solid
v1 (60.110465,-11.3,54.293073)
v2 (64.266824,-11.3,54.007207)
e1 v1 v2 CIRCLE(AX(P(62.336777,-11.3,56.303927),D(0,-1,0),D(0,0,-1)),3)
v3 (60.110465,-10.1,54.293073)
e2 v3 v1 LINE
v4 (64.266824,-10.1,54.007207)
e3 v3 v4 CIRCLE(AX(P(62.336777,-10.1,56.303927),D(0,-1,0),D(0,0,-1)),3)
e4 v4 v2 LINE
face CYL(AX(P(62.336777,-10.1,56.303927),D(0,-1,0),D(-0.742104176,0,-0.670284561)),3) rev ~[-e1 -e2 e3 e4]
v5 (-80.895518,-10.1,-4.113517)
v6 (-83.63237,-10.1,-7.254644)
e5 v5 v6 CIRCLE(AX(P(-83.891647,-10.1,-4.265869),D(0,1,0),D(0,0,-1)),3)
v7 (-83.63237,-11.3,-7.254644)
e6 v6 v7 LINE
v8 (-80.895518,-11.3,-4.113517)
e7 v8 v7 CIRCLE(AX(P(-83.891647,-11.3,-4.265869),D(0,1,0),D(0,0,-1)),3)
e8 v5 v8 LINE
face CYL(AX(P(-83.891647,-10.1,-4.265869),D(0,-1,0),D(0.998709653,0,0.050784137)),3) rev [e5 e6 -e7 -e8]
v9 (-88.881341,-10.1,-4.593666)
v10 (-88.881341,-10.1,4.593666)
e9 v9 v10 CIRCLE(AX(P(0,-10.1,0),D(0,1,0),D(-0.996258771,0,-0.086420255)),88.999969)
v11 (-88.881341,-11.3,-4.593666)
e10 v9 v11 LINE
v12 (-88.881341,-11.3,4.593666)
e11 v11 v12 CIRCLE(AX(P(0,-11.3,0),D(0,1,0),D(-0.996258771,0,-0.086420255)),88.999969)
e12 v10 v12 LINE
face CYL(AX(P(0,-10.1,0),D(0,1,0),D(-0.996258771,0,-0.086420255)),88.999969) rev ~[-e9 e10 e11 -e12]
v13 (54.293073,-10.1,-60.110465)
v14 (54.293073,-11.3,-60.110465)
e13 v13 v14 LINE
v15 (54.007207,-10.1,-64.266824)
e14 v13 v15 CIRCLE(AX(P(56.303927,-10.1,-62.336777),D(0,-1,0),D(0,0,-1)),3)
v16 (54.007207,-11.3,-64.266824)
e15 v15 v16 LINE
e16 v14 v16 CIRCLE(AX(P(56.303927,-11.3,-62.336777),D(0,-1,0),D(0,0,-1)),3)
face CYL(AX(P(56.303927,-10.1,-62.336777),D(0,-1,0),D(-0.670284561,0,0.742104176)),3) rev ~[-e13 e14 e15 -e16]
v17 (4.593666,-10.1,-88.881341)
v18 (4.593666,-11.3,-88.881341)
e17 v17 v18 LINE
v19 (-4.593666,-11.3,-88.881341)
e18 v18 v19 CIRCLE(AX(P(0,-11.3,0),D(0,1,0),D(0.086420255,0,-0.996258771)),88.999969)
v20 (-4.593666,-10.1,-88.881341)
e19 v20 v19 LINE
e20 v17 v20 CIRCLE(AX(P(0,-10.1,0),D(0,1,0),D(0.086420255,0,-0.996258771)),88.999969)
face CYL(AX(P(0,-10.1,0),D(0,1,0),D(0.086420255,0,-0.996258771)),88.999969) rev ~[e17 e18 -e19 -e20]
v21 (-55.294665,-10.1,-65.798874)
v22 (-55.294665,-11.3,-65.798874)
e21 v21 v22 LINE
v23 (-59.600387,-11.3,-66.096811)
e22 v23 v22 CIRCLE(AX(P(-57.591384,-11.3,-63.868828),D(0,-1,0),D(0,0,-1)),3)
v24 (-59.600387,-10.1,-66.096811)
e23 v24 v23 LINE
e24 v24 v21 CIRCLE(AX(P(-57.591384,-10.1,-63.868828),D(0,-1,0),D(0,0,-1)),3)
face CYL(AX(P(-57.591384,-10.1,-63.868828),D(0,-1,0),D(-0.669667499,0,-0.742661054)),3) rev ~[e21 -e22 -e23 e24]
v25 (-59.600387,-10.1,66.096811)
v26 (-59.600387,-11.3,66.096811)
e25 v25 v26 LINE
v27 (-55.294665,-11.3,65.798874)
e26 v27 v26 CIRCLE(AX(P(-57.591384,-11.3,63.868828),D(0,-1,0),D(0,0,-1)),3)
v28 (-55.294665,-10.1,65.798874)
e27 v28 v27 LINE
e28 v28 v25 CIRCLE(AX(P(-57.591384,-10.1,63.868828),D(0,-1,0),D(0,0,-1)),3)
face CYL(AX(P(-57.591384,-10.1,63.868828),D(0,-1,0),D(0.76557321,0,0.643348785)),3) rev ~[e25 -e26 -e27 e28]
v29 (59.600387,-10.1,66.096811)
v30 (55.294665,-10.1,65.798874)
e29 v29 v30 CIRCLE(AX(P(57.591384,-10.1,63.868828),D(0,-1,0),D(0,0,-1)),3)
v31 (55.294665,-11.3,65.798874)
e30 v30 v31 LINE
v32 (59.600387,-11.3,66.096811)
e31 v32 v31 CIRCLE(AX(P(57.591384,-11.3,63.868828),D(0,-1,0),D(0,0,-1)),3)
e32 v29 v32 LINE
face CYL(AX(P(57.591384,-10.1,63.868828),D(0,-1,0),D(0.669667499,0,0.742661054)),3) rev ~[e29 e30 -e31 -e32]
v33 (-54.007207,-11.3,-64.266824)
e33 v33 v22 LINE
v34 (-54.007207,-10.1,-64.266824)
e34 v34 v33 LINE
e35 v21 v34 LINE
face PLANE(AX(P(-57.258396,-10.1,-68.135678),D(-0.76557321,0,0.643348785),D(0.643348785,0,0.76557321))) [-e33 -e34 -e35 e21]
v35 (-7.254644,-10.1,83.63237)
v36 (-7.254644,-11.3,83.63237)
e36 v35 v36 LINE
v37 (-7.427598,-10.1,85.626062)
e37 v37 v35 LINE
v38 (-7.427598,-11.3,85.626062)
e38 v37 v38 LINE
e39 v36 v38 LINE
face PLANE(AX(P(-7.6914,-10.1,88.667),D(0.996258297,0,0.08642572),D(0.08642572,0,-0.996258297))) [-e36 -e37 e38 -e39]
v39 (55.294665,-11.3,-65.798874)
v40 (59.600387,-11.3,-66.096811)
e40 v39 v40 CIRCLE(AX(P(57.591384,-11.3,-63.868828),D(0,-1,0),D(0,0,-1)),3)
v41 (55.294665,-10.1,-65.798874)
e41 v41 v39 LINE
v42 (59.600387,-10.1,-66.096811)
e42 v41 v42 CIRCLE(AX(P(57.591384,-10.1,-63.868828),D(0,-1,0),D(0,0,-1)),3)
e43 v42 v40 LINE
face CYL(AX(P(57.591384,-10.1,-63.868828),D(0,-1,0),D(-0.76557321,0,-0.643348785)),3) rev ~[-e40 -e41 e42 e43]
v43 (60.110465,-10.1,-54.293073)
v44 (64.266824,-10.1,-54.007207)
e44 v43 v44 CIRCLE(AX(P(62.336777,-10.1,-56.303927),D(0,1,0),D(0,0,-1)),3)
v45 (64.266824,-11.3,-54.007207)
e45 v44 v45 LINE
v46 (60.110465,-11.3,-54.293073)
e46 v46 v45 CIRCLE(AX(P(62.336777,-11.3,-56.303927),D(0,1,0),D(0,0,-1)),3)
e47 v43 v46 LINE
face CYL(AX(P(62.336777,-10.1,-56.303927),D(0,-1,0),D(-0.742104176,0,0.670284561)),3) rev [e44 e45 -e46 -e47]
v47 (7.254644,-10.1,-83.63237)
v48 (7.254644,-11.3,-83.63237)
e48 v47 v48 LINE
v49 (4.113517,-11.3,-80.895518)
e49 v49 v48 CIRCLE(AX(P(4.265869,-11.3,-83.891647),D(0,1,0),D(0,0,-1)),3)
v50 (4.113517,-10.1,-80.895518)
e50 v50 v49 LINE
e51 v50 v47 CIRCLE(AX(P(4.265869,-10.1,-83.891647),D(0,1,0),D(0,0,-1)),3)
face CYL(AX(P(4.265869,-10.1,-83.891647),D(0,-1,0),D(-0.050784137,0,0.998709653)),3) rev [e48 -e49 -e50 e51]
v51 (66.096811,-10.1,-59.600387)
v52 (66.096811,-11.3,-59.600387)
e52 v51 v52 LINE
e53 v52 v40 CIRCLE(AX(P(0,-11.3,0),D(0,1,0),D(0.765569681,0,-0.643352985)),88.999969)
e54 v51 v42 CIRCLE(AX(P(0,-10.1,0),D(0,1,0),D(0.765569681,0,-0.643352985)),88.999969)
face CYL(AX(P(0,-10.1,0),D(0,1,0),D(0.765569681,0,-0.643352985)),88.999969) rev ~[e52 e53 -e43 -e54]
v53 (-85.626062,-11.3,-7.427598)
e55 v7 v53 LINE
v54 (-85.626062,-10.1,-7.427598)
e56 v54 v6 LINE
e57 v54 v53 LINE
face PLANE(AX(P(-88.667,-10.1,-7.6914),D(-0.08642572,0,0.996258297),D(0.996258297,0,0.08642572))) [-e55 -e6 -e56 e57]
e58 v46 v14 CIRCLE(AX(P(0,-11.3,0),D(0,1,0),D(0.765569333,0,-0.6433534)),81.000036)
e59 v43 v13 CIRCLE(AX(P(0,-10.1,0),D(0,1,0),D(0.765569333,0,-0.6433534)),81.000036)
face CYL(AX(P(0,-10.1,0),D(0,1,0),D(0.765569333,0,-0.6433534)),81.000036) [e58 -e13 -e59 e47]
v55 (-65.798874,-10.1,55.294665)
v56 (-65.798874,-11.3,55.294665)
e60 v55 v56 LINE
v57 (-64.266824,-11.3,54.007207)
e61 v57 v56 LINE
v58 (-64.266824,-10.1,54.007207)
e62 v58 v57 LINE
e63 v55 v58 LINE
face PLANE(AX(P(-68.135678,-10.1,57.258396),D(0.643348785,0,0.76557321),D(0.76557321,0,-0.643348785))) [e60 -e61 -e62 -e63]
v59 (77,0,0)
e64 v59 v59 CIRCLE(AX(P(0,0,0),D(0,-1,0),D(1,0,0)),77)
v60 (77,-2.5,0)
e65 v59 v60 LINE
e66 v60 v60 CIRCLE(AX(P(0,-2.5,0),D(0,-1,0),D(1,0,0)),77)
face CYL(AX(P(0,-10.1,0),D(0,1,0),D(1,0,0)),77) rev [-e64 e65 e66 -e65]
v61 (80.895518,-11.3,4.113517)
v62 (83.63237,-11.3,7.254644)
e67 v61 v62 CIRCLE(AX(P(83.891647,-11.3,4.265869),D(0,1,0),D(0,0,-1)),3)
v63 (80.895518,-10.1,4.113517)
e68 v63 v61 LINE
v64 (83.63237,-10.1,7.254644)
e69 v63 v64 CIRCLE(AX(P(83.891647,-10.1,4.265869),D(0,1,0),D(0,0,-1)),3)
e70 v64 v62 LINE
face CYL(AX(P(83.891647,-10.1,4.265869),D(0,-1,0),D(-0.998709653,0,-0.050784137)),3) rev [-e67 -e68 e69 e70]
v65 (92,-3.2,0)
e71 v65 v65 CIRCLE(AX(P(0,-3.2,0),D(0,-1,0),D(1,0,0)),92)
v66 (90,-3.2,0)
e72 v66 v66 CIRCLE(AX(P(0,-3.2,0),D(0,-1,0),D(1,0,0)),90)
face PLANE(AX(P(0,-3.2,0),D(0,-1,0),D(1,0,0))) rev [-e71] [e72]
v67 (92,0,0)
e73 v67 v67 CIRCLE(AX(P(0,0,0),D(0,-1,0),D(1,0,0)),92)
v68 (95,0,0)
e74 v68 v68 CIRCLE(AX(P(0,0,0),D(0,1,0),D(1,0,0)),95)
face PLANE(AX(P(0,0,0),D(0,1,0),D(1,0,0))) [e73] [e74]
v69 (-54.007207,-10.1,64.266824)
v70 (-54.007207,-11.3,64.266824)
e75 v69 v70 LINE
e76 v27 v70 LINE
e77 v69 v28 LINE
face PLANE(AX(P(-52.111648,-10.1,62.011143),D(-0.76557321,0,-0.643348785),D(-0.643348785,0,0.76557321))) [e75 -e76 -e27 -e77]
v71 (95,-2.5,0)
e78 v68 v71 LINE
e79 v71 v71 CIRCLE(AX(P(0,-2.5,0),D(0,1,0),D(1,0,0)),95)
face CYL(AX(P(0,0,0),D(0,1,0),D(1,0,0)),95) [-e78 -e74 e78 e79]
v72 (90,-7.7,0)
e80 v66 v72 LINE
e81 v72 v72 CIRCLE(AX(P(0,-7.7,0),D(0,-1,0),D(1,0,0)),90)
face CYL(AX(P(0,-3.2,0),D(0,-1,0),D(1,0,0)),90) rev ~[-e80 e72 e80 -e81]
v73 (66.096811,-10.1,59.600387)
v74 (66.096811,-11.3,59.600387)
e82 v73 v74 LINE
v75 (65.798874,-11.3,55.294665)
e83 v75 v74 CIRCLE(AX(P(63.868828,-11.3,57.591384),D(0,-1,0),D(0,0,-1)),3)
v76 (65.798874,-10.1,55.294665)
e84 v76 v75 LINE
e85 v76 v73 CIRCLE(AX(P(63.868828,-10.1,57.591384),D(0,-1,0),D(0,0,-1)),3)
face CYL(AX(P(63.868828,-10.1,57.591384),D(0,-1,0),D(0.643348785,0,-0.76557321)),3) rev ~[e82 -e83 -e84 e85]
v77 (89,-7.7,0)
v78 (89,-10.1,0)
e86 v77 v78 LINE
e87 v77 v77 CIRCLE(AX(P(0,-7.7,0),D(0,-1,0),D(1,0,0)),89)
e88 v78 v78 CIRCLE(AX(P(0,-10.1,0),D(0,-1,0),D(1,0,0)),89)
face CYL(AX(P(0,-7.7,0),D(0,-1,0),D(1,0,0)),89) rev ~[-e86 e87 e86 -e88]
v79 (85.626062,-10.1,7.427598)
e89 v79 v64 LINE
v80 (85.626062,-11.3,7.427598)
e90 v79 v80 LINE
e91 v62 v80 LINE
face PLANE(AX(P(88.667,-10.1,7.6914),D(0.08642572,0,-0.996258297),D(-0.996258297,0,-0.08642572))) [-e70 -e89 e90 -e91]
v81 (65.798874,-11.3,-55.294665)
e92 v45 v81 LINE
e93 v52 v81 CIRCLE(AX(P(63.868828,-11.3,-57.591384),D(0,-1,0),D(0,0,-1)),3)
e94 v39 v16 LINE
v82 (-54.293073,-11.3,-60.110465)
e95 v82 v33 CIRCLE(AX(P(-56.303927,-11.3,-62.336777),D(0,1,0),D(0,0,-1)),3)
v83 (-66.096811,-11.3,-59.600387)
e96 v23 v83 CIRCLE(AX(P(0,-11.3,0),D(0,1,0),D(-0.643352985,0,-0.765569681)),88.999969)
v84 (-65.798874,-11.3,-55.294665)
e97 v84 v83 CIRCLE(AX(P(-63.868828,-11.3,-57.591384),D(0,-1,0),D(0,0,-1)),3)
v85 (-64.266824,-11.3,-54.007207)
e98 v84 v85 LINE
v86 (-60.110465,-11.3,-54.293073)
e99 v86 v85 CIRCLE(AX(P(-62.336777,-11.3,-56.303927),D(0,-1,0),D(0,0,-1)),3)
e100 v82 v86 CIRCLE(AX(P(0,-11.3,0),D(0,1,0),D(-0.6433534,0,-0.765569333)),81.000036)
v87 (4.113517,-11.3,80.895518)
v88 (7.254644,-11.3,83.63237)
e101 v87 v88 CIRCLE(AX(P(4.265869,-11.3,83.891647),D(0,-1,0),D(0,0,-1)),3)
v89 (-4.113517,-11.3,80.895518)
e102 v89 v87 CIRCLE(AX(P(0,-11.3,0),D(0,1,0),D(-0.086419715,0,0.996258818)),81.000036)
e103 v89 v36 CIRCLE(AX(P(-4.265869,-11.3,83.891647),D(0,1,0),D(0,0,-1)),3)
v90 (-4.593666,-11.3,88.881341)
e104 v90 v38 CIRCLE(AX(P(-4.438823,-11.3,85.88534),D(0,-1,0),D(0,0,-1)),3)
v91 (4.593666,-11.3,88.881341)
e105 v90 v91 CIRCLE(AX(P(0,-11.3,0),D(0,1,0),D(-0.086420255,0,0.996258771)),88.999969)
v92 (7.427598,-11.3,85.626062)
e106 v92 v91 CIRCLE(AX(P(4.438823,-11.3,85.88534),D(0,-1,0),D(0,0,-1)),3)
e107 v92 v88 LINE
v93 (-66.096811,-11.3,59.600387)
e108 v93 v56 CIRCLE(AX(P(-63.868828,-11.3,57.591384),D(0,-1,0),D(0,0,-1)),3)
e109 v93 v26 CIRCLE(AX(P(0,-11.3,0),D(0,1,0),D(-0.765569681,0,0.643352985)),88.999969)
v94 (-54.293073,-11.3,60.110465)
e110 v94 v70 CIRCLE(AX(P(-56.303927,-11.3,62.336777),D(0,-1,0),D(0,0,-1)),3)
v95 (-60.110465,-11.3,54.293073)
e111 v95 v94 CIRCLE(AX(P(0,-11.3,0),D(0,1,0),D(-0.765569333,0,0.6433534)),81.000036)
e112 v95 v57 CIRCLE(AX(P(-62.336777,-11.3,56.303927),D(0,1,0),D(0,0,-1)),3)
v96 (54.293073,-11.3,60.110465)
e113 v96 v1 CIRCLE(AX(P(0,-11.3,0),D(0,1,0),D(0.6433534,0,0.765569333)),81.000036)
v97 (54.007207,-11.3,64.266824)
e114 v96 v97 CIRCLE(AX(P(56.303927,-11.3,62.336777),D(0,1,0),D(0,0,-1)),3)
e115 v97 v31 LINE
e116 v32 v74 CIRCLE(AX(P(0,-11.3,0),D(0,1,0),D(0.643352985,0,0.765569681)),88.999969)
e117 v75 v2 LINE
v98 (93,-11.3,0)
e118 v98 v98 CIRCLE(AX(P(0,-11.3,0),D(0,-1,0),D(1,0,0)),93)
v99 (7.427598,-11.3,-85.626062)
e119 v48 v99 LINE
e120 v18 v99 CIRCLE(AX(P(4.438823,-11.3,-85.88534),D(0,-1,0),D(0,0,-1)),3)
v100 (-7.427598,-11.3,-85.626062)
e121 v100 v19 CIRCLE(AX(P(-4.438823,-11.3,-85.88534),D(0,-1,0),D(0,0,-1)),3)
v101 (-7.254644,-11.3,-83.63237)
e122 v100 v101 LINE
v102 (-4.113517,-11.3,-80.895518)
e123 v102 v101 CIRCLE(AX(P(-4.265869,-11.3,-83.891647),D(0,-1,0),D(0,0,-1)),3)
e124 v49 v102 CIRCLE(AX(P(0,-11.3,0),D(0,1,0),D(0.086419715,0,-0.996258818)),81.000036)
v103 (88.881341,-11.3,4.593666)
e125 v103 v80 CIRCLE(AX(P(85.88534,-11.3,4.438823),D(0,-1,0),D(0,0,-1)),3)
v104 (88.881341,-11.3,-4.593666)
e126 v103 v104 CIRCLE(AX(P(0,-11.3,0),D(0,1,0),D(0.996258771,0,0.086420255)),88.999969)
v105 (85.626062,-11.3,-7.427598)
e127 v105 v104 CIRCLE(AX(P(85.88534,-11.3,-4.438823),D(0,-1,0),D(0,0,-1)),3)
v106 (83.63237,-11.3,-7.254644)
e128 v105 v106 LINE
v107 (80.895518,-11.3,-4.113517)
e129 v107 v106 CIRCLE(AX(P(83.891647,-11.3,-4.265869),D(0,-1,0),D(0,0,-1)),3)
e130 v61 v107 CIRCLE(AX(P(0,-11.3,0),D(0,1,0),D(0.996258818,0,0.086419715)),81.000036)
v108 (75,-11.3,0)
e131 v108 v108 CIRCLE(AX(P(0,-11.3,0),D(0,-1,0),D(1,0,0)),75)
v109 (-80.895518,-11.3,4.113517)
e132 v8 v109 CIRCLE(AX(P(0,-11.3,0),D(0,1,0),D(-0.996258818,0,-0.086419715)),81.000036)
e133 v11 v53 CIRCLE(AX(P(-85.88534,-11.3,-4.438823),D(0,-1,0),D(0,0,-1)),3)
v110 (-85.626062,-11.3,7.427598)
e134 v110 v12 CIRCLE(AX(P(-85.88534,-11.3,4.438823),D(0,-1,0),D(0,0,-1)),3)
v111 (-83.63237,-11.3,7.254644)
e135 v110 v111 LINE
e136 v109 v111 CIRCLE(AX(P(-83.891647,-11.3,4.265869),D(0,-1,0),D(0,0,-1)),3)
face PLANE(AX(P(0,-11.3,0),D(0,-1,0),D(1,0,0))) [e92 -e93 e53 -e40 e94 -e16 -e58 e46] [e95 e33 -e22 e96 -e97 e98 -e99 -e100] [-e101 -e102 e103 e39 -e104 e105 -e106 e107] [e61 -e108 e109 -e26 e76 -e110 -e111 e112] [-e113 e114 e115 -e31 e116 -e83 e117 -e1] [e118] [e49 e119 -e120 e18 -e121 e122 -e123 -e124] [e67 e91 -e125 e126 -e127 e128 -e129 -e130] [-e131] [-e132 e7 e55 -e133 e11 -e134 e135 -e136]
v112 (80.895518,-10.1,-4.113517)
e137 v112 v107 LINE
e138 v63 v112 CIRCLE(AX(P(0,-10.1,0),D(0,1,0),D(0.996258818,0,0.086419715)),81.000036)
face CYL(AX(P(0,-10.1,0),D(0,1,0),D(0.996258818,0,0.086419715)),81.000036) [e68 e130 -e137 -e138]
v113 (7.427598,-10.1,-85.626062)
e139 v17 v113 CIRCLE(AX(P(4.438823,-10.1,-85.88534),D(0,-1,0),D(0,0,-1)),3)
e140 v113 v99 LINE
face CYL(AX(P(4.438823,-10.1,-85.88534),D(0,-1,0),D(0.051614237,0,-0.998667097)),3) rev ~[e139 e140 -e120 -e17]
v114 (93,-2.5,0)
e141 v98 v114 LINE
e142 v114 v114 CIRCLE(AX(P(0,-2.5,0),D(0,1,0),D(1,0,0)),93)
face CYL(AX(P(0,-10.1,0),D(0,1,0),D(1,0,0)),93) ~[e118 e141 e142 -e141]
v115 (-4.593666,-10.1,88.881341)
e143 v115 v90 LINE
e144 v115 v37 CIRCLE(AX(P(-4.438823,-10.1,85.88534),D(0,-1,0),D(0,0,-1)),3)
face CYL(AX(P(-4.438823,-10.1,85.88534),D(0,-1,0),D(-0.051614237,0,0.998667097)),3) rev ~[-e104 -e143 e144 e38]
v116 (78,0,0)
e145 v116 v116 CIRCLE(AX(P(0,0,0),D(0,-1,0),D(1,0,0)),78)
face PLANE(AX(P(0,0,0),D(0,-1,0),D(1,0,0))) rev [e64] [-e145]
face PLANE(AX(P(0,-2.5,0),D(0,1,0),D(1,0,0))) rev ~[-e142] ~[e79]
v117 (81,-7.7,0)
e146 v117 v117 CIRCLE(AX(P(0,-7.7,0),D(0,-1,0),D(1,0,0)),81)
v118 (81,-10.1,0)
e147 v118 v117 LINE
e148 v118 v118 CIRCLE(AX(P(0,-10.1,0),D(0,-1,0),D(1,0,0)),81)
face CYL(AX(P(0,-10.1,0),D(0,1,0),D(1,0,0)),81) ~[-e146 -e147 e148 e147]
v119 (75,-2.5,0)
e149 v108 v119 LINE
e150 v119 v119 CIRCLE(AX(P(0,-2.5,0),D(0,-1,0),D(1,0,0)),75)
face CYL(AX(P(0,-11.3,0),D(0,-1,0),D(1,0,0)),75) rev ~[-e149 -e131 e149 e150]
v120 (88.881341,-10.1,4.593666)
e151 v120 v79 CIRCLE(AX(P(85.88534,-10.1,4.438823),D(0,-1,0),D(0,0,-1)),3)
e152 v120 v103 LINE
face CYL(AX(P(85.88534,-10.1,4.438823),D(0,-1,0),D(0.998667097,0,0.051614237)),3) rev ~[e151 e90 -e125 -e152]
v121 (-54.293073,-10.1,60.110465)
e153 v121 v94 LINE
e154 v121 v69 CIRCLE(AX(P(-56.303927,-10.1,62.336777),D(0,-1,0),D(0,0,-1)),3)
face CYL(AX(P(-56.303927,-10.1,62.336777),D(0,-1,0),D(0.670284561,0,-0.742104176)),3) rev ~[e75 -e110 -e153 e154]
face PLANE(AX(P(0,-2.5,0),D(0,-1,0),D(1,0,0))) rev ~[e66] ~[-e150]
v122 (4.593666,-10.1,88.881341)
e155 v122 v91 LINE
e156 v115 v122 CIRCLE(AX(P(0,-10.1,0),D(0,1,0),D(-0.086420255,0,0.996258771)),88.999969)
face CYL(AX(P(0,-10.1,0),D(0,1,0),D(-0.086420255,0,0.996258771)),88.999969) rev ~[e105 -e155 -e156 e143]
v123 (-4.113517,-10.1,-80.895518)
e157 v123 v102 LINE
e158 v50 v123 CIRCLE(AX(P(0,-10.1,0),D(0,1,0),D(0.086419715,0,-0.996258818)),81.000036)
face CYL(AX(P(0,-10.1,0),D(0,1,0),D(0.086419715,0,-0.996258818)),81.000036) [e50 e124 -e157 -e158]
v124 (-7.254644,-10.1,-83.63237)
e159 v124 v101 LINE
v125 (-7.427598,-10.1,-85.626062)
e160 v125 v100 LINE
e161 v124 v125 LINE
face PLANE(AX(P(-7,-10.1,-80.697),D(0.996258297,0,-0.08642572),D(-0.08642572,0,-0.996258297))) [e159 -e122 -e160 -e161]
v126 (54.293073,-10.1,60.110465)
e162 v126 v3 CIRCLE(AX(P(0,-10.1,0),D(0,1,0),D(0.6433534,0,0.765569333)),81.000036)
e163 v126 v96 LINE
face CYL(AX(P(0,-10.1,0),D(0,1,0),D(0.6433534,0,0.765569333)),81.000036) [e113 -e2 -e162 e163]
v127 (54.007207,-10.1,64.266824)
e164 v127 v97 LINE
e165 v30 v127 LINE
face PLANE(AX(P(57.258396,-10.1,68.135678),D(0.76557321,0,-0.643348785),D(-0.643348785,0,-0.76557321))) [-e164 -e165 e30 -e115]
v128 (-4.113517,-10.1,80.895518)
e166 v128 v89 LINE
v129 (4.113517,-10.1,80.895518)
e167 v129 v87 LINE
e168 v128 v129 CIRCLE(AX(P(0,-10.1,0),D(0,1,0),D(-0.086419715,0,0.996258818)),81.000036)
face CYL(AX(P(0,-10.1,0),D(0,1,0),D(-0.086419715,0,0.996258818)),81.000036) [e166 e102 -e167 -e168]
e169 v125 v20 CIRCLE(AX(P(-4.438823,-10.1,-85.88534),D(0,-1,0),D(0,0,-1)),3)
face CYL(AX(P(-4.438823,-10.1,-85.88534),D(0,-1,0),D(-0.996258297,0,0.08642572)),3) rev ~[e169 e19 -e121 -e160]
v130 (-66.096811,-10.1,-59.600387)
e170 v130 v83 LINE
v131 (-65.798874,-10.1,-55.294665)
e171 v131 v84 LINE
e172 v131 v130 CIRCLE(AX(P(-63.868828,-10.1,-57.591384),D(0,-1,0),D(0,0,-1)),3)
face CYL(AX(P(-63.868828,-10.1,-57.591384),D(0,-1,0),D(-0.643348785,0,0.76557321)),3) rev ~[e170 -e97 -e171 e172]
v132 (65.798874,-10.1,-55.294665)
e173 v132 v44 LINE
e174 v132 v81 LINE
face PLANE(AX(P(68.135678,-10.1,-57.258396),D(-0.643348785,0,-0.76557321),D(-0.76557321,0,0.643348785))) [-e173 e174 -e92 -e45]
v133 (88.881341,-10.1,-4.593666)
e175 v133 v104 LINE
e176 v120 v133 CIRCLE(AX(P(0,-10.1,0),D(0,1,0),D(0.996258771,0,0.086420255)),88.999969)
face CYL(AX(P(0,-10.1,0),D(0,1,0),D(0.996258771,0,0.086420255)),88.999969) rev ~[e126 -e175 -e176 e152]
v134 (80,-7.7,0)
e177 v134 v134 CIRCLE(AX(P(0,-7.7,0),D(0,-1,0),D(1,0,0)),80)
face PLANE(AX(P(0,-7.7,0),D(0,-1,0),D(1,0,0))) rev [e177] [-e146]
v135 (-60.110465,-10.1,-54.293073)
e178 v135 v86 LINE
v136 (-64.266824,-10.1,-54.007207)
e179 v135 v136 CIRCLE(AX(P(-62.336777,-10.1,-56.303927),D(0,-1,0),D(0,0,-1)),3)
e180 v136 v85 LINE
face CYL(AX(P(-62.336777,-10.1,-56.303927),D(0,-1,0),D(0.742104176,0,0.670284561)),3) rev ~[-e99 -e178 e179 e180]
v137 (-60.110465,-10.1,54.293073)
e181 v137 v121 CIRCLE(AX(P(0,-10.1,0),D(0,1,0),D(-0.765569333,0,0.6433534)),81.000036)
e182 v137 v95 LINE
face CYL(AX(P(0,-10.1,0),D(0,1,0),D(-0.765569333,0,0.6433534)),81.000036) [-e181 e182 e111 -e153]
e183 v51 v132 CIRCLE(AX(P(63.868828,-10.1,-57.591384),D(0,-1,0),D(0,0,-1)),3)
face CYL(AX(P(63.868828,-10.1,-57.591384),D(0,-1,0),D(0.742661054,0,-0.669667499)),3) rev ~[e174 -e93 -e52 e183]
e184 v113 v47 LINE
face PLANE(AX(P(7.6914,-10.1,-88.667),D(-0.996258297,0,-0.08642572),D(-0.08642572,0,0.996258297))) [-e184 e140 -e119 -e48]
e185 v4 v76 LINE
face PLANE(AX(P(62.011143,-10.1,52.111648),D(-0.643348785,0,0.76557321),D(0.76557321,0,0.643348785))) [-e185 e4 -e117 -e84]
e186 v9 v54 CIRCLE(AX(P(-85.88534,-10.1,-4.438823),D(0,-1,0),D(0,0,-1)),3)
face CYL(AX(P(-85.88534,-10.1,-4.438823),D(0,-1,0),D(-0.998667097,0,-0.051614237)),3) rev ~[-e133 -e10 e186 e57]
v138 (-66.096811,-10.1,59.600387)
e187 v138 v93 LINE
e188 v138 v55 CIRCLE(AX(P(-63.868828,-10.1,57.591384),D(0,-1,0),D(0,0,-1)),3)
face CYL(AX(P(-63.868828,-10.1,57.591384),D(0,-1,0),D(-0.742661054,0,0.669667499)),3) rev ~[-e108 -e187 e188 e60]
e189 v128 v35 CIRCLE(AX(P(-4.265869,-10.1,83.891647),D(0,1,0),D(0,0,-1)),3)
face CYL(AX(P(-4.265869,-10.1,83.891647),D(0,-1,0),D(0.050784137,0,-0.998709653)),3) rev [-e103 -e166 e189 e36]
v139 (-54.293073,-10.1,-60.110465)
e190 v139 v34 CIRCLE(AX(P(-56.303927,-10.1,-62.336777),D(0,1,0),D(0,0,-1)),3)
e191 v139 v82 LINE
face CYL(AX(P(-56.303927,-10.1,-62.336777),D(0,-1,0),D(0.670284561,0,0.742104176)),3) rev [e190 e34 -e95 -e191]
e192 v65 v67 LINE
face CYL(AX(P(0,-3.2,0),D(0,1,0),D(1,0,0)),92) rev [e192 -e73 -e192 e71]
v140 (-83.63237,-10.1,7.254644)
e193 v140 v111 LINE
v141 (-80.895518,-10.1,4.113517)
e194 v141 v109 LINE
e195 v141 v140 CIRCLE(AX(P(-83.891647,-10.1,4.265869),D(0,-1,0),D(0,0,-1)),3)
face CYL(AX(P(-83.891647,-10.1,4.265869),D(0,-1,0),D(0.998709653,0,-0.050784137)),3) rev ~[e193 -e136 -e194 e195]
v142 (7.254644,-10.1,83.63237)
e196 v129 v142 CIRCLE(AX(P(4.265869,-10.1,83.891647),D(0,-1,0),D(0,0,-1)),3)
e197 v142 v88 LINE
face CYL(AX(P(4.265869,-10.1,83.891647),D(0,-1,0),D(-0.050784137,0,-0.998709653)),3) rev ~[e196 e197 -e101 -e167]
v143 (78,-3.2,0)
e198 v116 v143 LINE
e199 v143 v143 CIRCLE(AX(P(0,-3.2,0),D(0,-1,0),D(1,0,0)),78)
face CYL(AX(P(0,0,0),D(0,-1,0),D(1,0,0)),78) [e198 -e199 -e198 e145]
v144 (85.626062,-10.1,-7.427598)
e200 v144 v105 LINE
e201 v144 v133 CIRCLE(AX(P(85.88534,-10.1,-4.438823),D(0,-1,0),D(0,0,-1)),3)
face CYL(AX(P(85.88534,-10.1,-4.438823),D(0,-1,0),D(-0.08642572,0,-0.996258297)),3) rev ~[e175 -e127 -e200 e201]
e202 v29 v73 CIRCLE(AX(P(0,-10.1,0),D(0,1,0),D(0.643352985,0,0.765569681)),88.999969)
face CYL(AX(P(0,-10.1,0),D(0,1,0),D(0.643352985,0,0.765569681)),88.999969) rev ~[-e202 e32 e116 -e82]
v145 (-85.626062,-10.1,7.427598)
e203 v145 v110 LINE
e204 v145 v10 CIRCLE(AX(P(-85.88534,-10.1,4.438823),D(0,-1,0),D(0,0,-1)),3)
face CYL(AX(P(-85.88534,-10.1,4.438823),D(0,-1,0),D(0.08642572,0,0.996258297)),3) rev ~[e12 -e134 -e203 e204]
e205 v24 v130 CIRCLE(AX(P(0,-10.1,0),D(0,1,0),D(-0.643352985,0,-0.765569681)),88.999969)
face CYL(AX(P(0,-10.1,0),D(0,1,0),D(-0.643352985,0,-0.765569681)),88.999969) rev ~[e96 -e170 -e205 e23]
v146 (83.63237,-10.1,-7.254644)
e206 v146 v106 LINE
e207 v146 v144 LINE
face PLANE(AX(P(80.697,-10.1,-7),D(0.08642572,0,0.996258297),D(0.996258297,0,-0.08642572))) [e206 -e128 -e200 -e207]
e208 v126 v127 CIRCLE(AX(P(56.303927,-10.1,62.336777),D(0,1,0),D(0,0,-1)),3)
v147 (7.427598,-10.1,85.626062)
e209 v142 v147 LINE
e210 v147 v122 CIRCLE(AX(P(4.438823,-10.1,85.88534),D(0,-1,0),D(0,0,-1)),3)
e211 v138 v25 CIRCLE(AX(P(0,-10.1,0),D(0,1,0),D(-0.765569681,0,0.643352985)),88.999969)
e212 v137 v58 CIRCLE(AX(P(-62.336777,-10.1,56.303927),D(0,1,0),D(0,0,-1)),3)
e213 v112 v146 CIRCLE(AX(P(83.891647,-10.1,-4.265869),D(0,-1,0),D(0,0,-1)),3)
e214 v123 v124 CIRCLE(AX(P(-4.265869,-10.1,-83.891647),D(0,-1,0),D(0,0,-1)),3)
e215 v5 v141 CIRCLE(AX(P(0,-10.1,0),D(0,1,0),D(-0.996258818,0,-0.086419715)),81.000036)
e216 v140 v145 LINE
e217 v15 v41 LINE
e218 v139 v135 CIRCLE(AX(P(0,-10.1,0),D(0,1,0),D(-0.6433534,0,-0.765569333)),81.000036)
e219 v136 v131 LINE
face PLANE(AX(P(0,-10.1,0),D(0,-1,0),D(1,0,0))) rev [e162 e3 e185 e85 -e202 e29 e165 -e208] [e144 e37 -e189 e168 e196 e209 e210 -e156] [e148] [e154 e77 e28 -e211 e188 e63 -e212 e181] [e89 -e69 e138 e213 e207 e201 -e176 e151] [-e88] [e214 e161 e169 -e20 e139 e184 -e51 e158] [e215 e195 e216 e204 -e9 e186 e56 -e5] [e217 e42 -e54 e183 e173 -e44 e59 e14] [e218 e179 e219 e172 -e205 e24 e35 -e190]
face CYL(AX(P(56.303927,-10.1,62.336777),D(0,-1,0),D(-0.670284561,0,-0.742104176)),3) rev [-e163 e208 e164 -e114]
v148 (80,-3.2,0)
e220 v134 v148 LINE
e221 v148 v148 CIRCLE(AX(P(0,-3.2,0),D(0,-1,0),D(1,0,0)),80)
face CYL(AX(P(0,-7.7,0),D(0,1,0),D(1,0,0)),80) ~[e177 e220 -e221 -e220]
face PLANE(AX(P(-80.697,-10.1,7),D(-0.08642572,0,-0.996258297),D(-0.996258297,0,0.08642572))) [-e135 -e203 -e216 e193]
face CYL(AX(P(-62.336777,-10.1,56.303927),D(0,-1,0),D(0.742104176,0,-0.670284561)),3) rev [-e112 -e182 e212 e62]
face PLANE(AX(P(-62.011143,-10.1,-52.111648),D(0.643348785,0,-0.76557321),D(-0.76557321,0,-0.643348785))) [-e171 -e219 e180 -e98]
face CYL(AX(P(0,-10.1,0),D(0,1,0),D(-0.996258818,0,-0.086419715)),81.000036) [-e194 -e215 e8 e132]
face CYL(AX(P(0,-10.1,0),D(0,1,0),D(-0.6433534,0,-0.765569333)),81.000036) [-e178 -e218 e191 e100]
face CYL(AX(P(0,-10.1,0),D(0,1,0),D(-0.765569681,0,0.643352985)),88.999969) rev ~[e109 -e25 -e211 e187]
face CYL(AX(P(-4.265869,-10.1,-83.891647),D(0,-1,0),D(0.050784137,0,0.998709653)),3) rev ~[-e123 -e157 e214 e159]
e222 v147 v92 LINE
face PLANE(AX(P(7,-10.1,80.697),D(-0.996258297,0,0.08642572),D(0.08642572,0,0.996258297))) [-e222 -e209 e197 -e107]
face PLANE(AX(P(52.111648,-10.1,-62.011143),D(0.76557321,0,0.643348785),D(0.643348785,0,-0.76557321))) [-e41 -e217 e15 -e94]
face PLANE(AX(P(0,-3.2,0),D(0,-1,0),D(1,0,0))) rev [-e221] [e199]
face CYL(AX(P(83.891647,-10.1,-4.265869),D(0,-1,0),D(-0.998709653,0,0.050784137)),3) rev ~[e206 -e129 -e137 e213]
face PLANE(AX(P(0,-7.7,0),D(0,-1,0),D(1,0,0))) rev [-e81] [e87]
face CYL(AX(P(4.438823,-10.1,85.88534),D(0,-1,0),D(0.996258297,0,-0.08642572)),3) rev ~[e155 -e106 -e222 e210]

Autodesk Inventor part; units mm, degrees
ref_plane "YZ Plane" through (0, 0, 0) normal (1, 0, 0) x (0, 1, 0)
ref_plane "XZ Plane" through (0, 0, 0) normal (0, 1, 0) x (-1, 0, 0)
ref_plane "XY Plane" through (0, 0, 0) normal (0, 0, 1) x (1, 0, 0)
sketch "Sketch1" plane through (0, 0, 0) normal (0, 0, 1) x (1, 0, 0)
  line L0 (0, 0) -> (0, -5) construction
  line L1 (78, 0) -> (78, -3.2)
  line L2 (92, -3.2) -> (92, 0)
  line L3 (90, -3.2) -> (90, -7.7)
  line L4 (90, -7.7) -> (80, -7.7) construction
  line L5 (80, -7.7) -> (80, -3.2)
  line L6 (78, -3.2) -> (80, -3.2)
  line L7 (90, -3.2) -> (92, -3.2)
  line L8 (81, -7.7) -> (89, -7.7) construction
  line L9 (89, -7.7) -> (89, -10.1)
  line L10 (89, -10.1) -> (81, -10.1) construction
  line L11 (81, -10.1) -> (81, -7.7)
  line L12 (81, -10.1) -> (77, -10.1)
  line L13 (77, -10.1) -> (77, 0)
  line L14 (77, 0) -> (78, 0)
  line L15 (78, 0) -> (92, 0) construction
  line L16 (85, 0) -> (85, 0.6686) construction
  line L17 (89, -10.1) -> (93, -10.1)
  line L18 (93, -10.1) -> (93, 0)
  line L19 (93, 0) -> (92, 0)
  line L20 (80, -7.7) -> (81, -7.7)
  line L21 (89, -7.7) -> (90, -7.7)
  line L22 (77, -10.1) -> (93, -10.1)
  line L23 (93, -10.1) -> (93, -11.3)
  line L24 (93, -11.3) -> (77, -11.3)
  line L25 (77, -11.3) -> (77, -10.1)
  point P0 (85, -7.7)
  dimension "d0" = 5
  dimension "d1" = 3.2
  dimension "d4" = 1
  dimension "d5" = 10
  dimension "d6" = 4.5
  dimension "d7" = 2.4
  dimension "d8" = 1
  dimension "d9" = 170
  dimension "d10" = 2
  dimension "d12" = 1.2
revolve "Revolution1" add sketch "Sketch1" angle 360 about axis through (0, 0, 0) along (0, -1, 0)
sketch "Sketch2" plane through (0, -10.1, 0) normal (0, 1, 0) x (1, 0, 0)
  circle A0 centre (0, 0) radius 89 construction
  circle A1 centre (0, 0) radius 81 construction
  arc A2 (-7.6914, -88.667) -> (7.6914, -88.667) centre (0, 0) ccw
  arc A3 (-7, -80.697) -> (7, -80.697) centre (0, 0) ccw
  line L0 (-7.6914, -88.667) -> (-7, -80.697)
  line L1 (7, -80.697) -> (7.6914, -88.667)
  line L2 (-7, -80.697) -> (7, -80.697) construction
  point P0 (0, -80.697)
  dimension "d14" = 14
extrude "Extrusion1" cut sketch "Sketch2" against normal through all
fillet "Fillet1" radius 3 4 edges at (-7.6914, -10.7, 88.667) (7.6914, -10.7, 88.667) (-7, -10.7, 80.697) (7, -10.7, 80.697)
pattern_circular "Circular Pattern1" count 8 over 360 about axis through (0, -5.05, 0) along (0, -1, 0) of "Extrusion1", "Fillet1"
sketch "Sketch4" plane through (0, -11.3, 0) normal (0, -1, 0) x (1, 0, 0)
  circle A0 centre (0, 0) radius 77 projected
  circle A1 centre (0, 0) radius 75
  dimension "d27" = 2
extrude "Extrusion3" add sketch "Sketch4" against normal blind 8.8
sketch "Sketch5" plane through (0, 0, 0) normal (0, 1, 0) x (1, 0, 0)
  circle A0 centre (0, 0) radius 93 projected
  circle A1 centre (0, 0) radius 95
  dimension "d30" = 2
extrude "Extrusion4" add sketch "Sketch5" against normal blind 2.5
properties part number "led_holster" material "ABS Plastic"
